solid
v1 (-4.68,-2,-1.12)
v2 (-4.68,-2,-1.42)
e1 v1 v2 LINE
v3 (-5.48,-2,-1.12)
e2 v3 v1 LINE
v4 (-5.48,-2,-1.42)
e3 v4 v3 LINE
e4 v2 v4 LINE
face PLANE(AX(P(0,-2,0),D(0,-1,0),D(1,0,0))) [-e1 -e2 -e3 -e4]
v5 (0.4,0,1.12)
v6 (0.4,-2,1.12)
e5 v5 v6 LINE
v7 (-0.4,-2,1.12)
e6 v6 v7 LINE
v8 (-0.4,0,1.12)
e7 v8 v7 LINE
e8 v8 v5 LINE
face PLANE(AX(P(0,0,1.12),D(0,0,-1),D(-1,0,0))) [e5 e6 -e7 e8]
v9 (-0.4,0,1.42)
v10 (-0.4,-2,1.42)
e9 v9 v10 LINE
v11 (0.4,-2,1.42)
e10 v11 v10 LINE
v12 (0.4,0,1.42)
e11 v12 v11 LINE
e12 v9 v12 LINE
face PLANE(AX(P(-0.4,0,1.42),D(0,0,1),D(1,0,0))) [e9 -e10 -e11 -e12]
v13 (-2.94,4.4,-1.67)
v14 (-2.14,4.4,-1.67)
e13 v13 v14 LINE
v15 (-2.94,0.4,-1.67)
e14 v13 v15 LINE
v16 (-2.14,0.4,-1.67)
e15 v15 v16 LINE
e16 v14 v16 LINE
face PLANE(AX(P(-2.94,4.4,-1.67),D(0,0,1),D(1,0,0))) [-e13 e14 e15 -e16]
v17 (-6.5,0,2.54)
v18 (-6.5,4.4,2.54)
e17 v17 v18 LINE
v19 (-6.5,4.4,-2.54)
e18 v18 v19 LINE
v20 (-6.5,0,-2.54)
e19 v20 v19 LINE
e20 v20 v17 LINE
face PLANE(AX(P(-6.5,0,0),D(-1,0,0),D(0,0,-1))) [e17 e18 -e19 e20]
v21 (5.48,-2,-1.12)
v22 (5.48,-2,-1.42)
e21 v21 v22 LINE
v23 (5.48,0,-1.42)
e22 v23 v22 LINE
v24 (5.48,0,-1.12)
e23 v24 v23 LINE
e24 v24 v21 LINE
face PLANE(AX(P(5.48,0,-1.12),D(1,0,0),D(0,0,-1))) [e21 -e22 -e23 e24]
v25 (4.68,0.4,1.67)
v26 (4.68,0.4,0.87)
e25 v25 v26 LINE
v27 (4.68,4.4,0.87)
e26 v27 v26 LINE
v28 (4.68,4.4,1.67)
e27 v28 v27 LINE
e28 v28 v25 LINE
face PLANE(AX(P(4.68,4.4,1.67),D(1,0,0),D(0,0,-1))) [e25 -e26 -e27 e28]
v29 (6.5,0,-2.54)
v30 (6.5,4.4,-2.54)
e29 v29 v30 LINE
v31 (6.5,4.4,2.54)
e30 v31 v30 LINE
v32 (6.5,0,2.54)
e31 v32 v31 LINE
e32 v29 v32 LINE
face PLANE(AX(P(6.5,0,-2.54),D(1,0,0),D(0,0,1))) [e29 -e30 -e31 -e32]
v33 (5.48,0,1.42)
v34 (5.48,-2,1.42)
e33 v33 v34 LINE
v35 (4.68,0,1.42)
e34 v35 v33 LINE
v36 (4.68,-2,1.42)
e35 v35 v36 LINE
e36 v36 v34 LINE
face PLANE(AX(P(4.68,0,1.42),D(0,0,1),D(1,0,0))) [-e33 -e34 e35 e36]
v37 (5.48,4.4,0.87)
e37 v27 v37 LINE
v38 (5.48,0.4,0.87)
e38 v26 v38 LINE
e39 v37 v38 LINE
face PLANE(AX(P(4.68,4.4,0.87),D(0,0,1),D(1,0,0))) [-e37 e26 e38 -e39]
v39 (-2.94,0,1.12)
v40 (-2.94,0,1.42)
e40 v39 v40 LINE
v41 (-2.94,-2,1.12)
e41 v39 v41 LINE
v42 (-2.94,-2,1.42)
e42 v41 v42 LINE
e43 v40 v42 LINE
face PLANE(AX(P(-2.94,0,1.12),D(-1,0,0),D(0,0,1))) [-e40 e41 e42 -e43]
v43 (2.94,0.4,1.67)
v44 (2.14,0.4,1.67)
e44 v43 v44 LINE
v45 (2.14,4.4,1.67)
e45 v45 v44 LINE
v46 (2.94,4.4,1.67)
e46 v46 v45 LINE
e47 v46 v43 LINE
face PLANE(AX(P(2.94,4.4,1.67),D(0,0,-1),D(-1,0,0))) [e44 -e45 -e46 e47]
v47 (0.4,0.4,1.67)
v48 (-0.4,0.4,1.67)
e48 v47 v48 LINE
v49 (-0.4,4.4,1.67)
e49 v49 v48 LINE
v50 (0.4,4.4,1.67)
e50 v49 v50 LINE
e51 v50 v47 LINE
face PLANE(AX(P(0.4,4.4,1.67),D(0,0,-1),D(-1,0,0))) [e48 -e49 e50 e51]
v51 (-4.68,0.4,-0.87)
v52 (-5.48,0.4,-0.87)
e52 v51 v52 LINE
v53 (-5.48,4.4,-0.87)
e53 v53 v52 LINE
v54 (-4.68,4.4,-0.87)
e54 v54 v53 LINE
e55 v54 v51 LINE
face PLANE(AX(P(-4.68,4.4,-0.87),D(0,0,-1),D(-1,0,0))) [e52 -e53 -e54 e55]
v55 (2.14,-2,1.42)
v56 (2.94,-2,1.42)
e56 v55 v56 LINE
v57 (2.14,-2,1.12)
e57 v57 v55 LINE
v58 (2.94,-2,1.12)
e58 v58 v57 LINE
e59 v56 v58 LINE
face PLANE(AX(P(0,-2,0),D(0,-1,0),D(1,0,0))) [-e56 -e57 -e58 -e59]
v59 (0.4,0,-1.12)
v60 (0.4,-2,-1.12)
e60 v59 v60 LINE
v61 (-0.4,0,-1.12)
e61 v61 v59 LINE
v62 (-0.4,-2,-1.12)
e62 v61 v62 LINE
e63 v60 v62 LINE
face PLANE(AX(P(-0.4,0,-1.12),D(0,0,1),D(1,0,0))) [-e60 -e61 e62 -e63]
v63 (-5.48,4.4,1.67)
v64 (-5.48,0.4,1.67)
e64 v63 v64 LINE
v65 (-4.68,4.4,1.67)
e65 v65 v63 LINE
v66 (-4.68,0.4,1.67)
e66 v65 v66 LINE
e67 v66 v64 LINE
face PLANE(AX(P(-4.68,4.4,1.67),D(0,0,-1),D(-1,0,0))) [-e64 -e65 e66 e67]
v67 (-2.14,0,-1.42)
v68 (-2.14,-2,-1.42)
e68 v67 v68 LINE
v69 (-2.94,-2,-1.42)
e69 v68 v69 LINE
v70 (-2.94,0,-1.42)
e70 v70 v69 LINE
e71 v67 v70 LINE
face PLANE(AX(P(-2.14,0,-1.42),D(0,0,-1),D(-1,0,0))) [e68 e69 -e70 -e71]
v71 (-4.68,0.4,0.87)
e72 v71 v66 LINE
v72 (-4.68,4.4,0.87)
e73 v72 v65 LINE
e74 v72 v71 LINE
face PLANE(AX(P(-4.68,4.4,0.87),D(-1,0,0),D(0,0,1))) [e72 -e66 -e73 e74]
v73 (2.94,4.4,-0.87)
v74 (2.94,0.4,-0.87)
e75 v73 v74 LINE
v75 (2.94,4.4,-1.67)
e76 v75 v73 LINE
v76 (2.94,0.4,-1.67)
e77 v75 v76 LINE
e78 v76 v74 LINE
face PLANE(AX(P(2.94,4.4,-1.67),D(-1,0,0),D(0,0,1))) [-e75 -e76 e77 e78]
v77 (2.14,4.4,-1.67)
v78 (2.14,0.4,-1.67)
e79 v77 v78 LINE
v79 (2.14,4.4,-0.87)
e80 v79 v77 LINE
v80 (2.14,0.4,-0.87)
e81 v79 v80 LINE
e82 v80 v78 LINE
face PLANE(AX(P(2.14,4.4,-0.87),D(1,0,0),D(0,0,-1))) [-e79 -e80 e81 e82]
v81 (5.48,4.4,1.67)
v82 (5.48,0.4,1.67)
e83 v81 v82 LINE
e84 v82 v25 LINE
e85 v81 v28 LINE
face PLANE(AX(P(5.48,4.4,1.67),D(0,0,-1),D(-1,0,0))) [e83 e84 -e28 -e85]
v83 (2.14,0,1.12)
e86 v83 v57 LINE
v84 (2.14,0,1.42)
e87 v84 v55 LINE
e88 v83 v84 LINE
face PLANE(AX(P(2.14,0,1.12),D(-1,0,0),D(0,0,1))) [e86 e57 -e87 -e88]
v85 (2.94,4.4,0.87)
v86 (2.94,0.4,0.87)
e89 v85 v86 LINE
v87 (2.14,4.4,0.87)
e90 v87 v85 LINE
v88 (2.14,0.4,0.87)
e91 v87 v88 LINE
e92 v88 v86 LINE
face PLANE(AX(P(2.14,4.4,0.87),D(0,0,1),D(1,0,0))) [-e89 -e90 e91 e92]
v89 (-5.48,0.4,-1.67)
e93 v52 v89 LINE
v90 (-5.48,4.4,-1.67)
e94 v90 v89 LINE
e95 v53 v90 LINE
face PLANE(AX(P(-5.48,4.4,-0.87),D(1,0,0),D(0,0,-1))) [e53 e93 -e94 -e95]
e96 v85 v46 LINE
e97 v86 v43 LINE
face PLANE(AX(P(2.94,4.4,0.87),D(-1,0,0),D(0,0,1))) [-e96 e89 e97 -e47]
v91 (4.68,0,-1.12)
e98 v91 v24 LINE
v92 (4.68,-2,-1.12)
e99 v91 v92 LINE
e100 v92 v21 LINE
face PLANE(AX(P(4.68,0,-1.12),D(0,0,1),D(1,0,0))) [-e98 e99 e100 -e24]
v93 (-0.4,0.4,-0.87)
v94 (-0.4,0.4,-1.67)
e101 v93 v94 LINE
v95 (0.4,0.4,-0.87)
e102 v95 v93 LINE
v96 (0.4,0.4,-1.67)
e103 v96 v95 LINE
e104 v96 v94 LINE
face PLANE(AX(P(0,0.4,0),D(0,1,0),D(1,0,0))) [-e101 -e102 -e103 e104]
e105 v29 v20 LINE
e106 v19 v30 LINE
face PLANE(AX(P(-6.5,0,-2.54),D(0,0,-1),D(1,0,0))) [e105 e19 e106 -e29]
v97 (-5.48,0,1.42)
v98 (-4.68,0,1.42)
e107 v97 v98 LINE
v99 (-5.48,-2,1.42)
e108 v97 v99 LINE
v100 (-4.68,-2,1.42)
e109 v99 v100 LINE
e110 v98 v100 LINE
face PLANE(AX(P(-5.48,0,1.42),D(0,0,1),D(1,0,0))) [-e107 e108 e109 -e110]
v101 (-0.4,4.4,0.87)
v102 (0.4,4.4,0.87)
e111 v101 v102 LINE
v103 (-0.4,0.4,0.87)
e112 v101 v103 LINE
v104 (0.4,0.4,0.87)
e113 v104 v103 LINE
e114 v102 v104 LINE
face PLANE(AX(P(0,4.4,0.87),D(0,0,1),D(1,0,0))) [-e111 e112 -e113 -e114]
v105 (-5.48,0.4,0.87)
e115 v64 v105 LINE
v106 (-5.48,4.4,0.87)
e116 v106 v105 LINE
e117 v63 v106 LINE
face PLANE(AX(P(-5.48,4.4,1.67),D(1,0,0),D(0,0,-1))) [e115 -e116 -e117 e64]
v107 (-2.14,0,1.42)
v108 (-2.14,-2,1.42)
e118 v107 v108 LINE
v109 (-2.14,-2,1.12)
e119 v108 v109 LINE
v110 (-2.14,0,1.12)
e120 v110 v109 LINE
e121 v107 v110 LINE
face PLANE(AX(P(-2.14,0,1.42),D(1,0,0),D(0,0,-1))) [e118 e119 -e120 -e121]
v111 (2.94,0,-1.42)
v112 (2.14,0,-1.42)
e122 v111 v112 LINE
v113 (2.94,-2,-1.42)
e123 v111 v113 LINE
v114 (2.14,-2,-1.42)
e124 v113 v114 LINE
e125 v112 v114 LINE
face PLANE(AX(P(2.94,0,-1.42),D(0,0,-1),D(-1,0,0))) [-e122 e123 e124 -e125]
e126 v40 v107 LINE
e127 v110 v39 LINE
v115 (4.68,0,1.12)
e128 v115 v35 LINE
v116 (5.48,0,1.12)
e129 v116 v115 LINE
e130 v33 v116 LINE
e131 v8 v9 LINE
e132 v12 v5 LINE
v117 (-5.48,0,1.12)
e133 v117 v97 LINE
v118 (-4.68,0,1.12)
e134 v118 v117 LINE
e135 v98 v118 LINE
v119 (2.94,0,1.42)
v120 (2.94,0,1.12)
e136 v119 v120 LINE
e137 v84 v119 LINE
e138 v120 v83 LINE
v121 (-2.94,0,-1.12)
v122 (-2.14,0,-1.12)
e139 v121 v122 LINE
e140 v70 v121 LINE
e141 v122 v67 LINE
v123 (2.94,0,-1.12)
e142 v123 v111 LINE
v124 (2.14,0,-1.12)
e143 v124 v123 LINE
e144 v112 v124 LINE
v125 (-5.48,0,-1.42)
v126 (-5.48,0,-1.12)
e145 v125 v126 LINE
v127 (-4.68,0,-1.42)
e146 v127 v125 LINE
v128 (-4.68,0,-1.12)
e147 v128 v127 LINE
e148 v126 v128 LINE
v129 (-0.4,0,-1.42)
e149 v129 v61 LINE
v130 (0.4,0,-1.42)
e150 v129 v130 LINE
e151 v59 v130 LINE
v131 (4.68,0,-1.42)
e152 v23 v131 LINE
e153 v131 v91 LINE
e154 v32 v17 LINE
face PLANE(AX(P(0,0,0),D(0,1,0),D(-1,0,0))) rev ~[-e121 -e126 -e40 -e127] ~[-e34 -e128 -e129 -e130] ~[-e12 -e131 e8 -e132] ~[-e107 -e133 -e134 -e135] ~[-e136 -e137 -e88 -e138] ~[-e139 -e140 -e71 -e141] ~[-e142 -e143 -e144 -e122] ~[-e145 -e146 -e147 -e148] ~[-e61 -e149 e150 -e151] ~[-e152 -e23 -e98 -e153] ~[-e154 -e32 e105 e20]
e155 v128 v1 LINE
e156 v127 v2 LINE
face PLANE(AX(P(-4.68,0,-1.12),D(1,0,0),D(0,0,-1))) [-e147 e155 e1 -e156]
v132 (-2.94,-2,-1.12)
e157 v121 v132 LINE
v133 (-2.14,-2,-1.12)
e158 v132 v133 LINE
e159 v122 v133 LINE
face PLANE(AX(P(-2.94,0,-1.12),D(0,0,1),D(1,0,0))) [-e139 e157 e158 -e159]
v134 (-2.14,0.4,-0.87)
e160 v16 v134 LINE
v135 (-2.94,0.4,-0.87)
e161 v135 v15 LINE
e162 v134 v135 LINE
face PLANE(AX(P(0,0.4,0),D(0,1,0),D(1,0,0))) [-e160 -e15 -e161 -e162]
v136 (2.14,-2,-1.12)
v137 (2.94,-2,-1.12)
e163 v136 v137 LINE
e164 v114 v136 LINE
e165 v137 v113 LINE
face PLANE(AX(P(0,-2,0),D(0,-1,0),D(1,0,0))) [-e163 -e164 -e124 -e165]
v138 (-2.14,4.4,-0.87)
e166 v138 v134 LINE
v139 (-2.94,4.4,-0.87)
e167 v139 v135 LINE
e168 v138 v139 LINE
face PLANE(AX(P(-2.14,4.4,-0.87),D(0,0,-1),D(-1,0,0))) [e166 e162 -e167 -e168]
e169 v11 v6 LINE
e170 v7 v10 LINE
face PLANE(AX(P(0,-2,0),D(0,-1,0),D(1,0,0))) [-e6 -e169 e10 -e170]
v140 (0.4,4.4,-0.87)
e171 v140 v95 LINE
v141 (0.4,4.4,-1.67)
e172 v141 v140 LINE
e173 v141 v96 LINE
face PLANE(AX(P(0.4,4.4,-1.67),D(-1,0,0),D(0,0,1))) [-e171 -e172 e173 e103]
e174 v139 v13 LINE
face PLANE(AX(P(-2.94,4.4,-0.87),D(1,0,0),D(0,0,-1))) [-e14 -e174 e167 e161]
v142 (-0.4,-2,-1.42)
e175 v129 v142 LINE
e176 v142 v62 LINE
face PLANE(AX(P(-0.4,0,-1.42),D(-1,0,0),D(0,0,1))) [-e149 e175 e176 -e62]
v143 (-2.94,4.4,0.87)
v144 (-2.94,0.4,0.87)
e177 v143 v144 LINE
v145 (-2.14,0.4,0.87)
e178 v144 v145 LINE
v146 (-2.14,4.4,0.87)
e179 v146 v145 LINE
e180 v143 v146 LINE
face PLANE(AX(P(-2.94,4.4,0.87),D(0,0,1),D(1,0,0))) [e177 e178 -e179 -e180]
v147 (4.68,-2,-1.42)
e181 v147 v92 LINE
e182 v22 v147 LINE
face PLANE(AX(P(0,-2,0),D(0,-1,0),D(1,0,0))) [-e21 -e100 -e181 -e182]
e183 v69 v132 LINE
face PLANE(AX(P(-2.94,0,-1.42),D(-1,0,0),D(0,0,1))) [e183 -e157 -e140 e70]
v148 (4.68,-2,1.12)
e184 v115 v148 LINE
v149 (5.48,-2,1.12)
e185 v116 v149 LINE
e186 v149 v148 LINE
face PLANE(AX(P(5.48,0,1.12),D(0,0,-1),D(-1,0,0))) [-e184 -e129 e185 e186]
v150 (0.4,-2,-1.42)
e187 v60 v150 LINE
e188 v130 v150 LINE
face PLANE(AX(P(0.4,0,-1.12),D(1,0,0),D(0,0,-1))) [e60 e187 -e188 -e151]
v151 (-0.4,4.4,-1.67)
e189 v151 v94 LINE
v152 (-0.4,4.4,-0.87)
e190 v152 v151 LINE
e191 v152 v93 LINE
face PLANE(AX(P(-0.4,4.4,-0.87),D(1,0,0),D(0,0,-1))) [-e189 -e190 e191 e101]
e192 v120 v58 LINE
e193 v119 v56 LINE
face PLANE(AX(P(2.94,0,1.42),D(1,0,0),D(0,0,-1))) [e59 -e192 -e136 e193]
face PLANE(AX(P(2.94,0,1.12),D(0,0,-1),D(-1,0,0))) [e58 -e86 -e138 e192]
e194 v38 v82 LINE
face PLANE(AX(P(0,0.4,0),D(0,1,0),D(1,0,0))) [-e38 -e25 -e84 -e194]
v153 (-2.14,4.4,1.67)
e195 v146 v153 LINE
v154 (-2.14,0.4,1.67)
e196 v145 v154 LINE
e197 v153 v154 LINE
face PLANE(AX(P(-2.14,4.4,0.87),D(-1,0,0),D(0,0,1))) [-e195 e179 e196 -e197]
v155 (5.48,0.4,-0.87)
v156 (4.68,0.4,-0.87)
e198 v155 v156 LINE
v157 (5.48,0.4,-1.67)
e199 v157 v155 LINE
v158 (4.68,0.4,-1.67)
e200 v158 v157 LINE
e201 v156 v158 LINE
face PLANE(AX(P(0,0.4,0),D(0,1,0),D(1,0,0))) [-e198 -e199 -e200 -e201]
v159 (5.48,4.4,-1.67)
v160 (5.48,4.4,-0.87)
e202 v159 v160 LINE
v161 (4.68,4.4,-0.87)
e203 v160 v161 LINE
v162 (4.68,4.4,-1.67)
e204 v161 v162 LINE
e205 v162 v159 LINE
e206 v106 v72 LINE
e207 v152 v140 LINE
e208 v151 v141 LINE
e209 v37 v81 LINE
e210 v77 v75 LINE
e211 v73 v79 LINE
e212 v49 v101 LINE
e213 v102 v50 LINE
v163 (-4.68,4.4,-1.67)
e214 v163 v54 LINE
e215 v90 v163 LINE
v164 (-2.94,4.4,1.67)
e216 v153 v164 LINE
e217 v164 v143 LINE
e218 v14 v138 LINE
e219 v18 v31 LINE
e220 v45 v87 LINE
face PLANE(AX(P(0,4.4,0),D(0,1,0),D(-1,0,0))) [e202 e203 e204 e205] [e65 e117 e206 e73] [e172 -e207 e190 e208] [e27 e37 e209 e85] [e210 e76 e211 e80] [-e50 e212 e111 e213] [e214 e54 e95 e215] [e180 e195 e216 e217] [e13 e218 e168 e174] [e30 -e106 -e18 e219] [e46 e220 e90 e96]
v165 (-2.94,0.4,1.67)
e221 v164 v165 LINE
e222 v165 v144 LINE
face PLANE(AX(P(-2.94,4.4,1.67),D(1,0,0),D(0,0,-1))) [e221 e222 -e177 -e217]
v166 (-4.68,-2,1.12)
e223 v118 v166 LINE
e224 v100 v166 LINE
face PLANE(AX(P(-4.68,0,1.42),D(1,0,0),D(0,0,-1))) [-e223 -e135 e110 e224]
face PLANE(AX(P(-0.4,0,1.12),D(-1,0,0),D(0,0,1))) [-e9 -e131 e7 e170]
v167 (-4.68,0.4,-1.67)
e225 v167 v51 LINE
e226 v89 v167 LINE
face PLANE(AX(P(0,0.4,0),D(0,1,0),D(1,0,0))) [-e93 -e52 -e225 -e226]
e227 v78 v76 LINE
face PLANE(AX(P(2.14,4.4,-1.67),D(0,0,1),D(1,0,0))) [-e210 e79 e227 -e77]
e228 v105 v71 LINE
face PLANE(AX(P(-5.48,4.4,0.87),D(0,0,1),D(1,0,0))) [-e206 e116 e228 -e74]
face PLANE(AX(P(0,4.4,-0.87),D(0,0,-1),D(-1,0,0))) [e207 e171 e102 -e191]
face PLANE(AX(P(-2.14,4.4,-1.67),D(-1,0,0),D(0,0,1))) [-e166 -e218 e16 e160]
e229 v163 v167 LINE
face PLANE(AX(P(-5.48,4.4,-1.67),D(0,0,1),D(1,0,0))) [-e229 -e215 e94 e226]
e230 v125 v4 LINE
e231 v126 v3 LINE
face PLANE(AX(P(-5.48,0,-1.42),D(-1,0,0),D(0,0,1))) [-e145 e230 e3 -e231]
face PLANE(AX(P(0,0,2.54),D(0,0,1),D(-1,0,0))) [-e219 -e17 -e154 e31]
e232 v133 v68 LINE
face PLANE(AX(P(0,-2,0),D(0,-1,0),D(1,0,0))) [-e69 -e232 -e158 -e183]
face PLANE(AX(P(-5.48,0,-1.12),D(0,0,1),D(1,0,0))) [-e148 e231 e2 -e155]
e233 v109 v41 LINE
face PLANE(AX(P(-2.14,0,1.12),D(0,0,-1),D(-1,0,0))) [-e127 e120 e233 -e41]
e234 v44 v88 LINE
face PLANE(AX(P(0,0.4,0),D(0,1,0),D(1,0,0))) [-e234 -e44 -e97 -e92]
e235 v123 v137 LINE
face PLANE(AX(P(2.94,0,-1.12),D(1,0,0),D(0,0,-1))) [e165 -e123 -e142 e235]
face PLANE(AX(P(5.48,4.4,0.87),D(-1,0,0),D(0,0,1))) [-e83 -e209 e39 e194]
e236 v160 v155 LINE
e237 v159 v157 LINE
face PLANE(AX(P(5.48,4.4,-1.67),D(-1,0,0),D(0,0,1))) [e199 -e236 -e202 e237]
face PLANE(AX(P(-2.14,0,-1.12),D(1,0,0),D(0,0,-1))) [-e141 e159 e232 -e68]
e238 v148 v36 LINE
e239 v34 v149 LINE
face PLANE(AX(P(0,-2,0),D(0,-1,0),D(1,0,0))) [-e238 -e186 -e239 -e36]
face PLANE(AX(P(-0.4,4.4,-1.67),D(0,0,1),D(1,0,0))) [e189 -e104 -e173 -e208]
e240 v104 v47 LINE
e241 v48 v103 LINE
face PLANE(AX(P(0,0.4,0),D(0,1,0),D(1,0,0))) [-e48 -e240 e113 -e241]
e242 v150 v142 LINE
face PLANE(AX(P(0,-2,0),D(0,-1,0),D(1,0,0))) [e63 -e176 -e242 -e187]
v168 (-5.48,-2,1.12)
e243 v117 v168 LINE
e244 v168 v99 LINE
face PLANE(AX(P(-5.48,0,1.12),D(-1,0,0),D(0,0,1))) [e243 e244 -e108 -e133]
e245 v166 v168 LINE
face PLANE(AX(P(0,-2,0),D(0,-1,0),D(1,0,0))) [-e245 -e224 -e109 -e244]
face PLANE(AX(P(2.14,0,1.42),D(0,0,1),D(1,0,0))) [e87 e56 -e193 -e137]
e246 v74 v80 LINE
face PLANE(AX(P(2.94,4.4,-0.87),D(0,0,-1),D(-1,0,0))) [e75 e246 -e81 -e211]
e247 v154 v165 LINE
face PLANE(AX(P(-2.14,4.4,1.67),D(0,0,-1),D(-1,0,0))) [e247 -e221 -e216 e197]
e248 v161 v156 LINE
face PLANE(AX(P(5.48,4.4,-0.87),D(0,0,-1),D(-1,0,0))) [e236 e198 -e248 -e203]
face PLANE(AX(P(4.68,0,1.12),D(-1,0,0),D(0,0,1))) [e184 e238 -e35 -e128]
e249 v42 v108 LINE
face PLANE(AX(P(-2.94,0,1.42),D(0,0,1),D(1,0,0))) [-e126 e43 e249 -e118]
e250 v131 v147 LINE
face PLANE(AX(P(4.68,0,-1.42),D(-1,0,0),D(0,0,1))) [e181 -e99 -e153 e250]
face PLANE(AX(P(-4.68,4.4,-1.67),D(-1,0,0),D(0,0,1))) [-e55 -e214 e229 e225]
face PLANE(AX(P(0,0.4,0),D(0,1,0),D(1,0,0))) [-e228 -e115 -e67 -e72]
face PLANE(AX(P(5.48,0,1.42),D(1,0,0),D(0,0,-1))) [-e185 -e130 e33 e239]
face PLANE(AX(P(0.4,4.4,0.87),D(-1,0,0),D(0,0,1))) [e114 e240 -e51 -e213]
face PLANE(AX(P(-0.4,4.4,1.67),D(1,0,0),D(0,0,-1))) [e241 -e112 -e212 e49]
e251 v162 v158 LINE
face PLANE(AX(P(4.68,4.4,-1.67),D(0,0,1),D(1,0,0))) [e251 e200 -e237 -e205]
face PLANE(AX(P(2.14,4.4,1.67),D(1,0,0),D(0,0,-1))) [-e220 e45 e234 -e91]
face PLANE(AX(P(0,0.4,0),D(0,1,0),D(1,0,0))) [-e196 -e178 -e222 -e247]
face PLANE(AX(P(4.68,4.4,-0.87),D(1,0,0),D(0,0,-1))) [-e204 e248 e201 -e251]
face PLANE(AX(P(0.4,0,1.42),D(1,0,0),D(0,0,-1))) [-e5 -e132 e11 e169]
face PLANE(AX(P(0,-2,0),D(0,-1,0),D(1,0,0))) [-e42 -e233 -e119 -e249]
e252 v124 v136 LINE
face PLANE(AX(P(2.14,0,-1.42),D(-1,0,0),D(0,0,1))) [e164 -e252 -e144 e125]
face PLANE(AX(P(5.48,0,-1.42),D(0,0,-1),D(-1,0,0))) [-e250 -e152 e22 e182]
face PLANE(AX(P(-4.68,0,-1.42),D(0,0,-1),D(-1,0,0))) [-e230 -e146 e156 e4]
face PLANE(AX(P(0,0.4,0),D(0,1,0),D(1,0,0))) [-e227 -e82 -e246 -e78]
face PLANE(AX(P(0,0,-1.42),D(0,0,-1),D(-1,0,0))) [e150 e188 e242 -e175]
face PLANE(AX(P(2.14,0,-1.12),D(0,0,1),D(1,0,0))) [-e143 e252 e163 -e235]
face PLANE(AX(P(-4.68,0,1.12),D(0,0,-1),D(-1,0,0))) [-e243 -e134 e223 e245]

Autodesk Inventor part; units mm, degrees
ref_plane "YZ Plane" through (0, 0, 0) normal (1, 0, 0) x (0, 1, 0)
ref_plane "XZ Plane" through (0, 0, 0) normal (0, 1, 0) x (-1, 0, 0)
ref_plane "XY Plane" through (0, 0, 0) normal (0, 0, 1) x (1, 0, 0)
sketch "Эскиз1" plane through (0, 0, 0) normal (0, 1, 0) x (-1, 0, 0)
  line L0 (6.5, -2.54) -> (-6.5, -2.54)
  line L1 (-6.5, -2.54) -> (-6.5, 2.54)
  line L2 (-6.5, 2.54) -> (6.5, 2.54)
  line L3 (6.5, 2.54) -> (6.5, -2.54)
  line L4 (0, -3.556) -> (0, 3.556) projected
  line L5 (9.1, 0) -> (-9.1, 0) projected
  point P0 (0, 0)
  dimension "d0" = 13
  dimension "d1" = 5.08
extrude "Выдавливание1" add sketch "Эскиз1" along normal blind 4.4
sketch "Эскиз2" plane through (0, 4.4, 0) normal (0, 1, 0) x (1, 0, 0)
  line L0 (-5.48, 1.67) -> (-4.68, 1.67)
  line L1 (-4.68, 1.67) -> (-4.68, 0.87)
  line L2 (-4.68, 0.87) -> (-5.48, 0.87)
  line L3 (-5.48, 0.87) -> (-5.48, 1.67)
  line L4 (-2.94, 1.67) -> (-2.14, 1.67)
  line L5 (-2.14, 1.67) -> (-2.14, 0.87)
  line L6 (-2.14, 0.87) -> (-2.94, 0.87)
  line L7 (-2.94, 0.87) -> (-2.94, 1.67)
  line L8 (-0.4, 1.67) -> (0.4, 1.67)
  line L9 (0.4, 1.67) -> (0.4, 0.87)
  line L10 (0.4, 0.87) -> (-0.4, 0.87)
  line L11 (-0.4, 0.87) -> (-0.4, 1.67)
  line L12 (2.14, 1.67) -> (2.94, 1.67)
  line L13 (2.94, 1.67) -> (2.94, 0.87)
  line L14 (2.94, 0.87) -> (2.14, 0.87)
  line L15 (2.14, 0.87) -> (2.14, 1.67)
  line L16 (4.68, 1.67) -> (5.48, 1.67)
  line L17 (5.48, 1.67) -> (5.48, 0.87)
  line L18 (5.48, 0.87) -> (4.68, 0.87)
  line L19 (4.68, 0.87) -> (4.68, 1.67)
  line L20 (-5.48, -0.87) -> (-4.68, -0.87)
  line L21 (-4.68, -0.87) -> (-4.68, -1.67)
  line L22 (-4.68, -1.67) -> (-5.48, -1.67)
  line L23 (-5.48, -1.67) -> (-5.48, -0.87)
  line L24 (-2.94, -0.87) -> (-2.14, -0.87)
  line L25 (-2.14, -0.87) -> (-2.14, -1.67)
  line L26 (-2.14, -1.67) -> (-2.94, -1.67)
  line L27 (-2.94, -1.67) -> (-2.94, -0.87)
  line L28 (-0.4, -0.87) -> (0.4, -0.87)
  line L29 (0.4, -0.87) -> (0.4, -1.67)
  line L30 (0.4, -1.67) -> (-0.4, -1.67)
  line L31 (-0.4, -1.67) -> (-0.4, -0.87)
  line L32 (2.14, -0.87) -> (2.94, -0.87)
  line L33 (2.94, -0.87) -> (2.94, -1.67)
  line L34 (2.94, -1.67) -> (2.14, -1.67)
  line L35 (2.14, -1.67) -> (2.14, -0.87)
  line L36 (4.68, -0.87) -> (5.48, -0.87)
  line L37 (5.48, -0.87) -> (5.48, -1.67)
  line L38 (5.48, -1.67) -> (4.68, -1.67)
  line L39 (4.68, -1.67) -> (4.68, -0.87)
  line L40 (0, 3.556) -> (0, -3.556) projected
  line L41 (-9.1, 0) -> (9.1, 0) projected
  point P0 (0, 0)
  dimension "d4" = 0.8
  dimension "d5" = 0.8
  dimension "d8" = 2.54
  dimension "d11" = 2.54
extrude "Выдавливание2" cut sketch "Эскиз2" against normal blind 4
sketch "Эскиз3" plane through (0, 0, 0) normal (0, -1, 0) x (1, 0, 0)
  line L0 (0, -3.556) -> (0, 3.556) projected
  line L1 (-9.1, 0) -> (9.1, 0) projected
  line L2 (-5.48, 1.42) -> (-4.68, 1.42)
  line L3 (-4.68, 1.42) -> (-4.68, 1.12)
  line L4 (-4.68, 1.12) -> (-5.48, 1.12)
  line L5 (-5.48, 1.12) -> (-5.48, 1.42)
  line L6 (-2.94, 1.42) -> (-2.14, 1.42)
  line L7 (-2.14, 1.42) -> (-2.14, 1.12)
  line L8 (-2.14, 1.12) -> (-2.94, 1.12)
  line L9 (-2.94, 1.12) -> (-2.94, 1.42)
  line L10 (-0.4, 1.42) -> (0.4, 1.42)
  line L11 (0.4, 1.42) -> (0.4, 1.12)
  line L12 (0.4, 1.12) -> (-0.4, 1.12)
  line L13 (-0.4, 1.12) -> (-0.4, 1.42)
  line L14 (2.14, 1.42) -> (2.94, 1.42)
  line L15 (2.94, 1.42) -> (2.94, 1.12)
  line L16 (2.94, 1.12) -> (2.14, 1.12)
  line L17 (2.14, 1.12) -> (2.14, 1.42)
  line L18 (4.68, 1.42) -> (5.48, 1.42)
  line L19 (5.48, 1.42) -> (5.48, 1.12)
  line L20 (5.48, 1.12) -> (4.68, 1.12)
  line L21 (4.68, 1.12) -> (4.68, 1.42)
  line L22 (-5.48, -1.12) -> (-4.68, -1.12)
  line L23 (-4.68, -1.12) -> (-4.68, -1.42)
  line L24 (-4.68, -1.42) -> (-5.48, -1.42)
  line L25 (-5.48, -1.42) -> (-5.48, -1.12)
  line L26 (-2.94, -1.12) -> (-2.14, -1.12)
  line L27 (-2.14, -1.12) -> (-2.14, -1.42)
  line L28 (-2.14, -1.42) -> (-2.94, -1.42)
  line L29 (-2.94, -1.42) -> (-2.94, -1.12)
  line L30 (-0.4, -1.12) -> (0.4, -1.12)
  line L31 (0.4, -1.12) -> (0.4, -1.42)
  line L32 (0.4, -1.42) -> (-0.4, -1.42)
  line L33 (-0.4, -1.42) -> (-0.4, -1.12)
  line L34 (2.14, -1.12) -> (2.94, -1.12)
  line L35 (2.94, -1.12) -> (2.94, -1.42)
  line L36 (2.94, -1.42) -> (2.14, -1.42)
  line L37 (2.14, -1.42) -> (2.14, -1.12)
  line L38 (4.68, -1.12) -> (5.48, -1.12)
  line L39 (5.48, -1.12) -> (5.48, -1.42)
  line L40 (5.48, -1.42) -> (4.68, -1.42)
  line L41 (4.68, -1.42) -> (4.68, -1.12)
  point P0 (0, 0)
  dimension "d16" = 0.8
  dimension "d17" = 0.3
  dimension "d20" = 2.54
  dimension "d23" = 2.54
extrude "Выдавливание3" add sketch "Эскиз3" along normal blind 2
properties part number "MOLEX"
